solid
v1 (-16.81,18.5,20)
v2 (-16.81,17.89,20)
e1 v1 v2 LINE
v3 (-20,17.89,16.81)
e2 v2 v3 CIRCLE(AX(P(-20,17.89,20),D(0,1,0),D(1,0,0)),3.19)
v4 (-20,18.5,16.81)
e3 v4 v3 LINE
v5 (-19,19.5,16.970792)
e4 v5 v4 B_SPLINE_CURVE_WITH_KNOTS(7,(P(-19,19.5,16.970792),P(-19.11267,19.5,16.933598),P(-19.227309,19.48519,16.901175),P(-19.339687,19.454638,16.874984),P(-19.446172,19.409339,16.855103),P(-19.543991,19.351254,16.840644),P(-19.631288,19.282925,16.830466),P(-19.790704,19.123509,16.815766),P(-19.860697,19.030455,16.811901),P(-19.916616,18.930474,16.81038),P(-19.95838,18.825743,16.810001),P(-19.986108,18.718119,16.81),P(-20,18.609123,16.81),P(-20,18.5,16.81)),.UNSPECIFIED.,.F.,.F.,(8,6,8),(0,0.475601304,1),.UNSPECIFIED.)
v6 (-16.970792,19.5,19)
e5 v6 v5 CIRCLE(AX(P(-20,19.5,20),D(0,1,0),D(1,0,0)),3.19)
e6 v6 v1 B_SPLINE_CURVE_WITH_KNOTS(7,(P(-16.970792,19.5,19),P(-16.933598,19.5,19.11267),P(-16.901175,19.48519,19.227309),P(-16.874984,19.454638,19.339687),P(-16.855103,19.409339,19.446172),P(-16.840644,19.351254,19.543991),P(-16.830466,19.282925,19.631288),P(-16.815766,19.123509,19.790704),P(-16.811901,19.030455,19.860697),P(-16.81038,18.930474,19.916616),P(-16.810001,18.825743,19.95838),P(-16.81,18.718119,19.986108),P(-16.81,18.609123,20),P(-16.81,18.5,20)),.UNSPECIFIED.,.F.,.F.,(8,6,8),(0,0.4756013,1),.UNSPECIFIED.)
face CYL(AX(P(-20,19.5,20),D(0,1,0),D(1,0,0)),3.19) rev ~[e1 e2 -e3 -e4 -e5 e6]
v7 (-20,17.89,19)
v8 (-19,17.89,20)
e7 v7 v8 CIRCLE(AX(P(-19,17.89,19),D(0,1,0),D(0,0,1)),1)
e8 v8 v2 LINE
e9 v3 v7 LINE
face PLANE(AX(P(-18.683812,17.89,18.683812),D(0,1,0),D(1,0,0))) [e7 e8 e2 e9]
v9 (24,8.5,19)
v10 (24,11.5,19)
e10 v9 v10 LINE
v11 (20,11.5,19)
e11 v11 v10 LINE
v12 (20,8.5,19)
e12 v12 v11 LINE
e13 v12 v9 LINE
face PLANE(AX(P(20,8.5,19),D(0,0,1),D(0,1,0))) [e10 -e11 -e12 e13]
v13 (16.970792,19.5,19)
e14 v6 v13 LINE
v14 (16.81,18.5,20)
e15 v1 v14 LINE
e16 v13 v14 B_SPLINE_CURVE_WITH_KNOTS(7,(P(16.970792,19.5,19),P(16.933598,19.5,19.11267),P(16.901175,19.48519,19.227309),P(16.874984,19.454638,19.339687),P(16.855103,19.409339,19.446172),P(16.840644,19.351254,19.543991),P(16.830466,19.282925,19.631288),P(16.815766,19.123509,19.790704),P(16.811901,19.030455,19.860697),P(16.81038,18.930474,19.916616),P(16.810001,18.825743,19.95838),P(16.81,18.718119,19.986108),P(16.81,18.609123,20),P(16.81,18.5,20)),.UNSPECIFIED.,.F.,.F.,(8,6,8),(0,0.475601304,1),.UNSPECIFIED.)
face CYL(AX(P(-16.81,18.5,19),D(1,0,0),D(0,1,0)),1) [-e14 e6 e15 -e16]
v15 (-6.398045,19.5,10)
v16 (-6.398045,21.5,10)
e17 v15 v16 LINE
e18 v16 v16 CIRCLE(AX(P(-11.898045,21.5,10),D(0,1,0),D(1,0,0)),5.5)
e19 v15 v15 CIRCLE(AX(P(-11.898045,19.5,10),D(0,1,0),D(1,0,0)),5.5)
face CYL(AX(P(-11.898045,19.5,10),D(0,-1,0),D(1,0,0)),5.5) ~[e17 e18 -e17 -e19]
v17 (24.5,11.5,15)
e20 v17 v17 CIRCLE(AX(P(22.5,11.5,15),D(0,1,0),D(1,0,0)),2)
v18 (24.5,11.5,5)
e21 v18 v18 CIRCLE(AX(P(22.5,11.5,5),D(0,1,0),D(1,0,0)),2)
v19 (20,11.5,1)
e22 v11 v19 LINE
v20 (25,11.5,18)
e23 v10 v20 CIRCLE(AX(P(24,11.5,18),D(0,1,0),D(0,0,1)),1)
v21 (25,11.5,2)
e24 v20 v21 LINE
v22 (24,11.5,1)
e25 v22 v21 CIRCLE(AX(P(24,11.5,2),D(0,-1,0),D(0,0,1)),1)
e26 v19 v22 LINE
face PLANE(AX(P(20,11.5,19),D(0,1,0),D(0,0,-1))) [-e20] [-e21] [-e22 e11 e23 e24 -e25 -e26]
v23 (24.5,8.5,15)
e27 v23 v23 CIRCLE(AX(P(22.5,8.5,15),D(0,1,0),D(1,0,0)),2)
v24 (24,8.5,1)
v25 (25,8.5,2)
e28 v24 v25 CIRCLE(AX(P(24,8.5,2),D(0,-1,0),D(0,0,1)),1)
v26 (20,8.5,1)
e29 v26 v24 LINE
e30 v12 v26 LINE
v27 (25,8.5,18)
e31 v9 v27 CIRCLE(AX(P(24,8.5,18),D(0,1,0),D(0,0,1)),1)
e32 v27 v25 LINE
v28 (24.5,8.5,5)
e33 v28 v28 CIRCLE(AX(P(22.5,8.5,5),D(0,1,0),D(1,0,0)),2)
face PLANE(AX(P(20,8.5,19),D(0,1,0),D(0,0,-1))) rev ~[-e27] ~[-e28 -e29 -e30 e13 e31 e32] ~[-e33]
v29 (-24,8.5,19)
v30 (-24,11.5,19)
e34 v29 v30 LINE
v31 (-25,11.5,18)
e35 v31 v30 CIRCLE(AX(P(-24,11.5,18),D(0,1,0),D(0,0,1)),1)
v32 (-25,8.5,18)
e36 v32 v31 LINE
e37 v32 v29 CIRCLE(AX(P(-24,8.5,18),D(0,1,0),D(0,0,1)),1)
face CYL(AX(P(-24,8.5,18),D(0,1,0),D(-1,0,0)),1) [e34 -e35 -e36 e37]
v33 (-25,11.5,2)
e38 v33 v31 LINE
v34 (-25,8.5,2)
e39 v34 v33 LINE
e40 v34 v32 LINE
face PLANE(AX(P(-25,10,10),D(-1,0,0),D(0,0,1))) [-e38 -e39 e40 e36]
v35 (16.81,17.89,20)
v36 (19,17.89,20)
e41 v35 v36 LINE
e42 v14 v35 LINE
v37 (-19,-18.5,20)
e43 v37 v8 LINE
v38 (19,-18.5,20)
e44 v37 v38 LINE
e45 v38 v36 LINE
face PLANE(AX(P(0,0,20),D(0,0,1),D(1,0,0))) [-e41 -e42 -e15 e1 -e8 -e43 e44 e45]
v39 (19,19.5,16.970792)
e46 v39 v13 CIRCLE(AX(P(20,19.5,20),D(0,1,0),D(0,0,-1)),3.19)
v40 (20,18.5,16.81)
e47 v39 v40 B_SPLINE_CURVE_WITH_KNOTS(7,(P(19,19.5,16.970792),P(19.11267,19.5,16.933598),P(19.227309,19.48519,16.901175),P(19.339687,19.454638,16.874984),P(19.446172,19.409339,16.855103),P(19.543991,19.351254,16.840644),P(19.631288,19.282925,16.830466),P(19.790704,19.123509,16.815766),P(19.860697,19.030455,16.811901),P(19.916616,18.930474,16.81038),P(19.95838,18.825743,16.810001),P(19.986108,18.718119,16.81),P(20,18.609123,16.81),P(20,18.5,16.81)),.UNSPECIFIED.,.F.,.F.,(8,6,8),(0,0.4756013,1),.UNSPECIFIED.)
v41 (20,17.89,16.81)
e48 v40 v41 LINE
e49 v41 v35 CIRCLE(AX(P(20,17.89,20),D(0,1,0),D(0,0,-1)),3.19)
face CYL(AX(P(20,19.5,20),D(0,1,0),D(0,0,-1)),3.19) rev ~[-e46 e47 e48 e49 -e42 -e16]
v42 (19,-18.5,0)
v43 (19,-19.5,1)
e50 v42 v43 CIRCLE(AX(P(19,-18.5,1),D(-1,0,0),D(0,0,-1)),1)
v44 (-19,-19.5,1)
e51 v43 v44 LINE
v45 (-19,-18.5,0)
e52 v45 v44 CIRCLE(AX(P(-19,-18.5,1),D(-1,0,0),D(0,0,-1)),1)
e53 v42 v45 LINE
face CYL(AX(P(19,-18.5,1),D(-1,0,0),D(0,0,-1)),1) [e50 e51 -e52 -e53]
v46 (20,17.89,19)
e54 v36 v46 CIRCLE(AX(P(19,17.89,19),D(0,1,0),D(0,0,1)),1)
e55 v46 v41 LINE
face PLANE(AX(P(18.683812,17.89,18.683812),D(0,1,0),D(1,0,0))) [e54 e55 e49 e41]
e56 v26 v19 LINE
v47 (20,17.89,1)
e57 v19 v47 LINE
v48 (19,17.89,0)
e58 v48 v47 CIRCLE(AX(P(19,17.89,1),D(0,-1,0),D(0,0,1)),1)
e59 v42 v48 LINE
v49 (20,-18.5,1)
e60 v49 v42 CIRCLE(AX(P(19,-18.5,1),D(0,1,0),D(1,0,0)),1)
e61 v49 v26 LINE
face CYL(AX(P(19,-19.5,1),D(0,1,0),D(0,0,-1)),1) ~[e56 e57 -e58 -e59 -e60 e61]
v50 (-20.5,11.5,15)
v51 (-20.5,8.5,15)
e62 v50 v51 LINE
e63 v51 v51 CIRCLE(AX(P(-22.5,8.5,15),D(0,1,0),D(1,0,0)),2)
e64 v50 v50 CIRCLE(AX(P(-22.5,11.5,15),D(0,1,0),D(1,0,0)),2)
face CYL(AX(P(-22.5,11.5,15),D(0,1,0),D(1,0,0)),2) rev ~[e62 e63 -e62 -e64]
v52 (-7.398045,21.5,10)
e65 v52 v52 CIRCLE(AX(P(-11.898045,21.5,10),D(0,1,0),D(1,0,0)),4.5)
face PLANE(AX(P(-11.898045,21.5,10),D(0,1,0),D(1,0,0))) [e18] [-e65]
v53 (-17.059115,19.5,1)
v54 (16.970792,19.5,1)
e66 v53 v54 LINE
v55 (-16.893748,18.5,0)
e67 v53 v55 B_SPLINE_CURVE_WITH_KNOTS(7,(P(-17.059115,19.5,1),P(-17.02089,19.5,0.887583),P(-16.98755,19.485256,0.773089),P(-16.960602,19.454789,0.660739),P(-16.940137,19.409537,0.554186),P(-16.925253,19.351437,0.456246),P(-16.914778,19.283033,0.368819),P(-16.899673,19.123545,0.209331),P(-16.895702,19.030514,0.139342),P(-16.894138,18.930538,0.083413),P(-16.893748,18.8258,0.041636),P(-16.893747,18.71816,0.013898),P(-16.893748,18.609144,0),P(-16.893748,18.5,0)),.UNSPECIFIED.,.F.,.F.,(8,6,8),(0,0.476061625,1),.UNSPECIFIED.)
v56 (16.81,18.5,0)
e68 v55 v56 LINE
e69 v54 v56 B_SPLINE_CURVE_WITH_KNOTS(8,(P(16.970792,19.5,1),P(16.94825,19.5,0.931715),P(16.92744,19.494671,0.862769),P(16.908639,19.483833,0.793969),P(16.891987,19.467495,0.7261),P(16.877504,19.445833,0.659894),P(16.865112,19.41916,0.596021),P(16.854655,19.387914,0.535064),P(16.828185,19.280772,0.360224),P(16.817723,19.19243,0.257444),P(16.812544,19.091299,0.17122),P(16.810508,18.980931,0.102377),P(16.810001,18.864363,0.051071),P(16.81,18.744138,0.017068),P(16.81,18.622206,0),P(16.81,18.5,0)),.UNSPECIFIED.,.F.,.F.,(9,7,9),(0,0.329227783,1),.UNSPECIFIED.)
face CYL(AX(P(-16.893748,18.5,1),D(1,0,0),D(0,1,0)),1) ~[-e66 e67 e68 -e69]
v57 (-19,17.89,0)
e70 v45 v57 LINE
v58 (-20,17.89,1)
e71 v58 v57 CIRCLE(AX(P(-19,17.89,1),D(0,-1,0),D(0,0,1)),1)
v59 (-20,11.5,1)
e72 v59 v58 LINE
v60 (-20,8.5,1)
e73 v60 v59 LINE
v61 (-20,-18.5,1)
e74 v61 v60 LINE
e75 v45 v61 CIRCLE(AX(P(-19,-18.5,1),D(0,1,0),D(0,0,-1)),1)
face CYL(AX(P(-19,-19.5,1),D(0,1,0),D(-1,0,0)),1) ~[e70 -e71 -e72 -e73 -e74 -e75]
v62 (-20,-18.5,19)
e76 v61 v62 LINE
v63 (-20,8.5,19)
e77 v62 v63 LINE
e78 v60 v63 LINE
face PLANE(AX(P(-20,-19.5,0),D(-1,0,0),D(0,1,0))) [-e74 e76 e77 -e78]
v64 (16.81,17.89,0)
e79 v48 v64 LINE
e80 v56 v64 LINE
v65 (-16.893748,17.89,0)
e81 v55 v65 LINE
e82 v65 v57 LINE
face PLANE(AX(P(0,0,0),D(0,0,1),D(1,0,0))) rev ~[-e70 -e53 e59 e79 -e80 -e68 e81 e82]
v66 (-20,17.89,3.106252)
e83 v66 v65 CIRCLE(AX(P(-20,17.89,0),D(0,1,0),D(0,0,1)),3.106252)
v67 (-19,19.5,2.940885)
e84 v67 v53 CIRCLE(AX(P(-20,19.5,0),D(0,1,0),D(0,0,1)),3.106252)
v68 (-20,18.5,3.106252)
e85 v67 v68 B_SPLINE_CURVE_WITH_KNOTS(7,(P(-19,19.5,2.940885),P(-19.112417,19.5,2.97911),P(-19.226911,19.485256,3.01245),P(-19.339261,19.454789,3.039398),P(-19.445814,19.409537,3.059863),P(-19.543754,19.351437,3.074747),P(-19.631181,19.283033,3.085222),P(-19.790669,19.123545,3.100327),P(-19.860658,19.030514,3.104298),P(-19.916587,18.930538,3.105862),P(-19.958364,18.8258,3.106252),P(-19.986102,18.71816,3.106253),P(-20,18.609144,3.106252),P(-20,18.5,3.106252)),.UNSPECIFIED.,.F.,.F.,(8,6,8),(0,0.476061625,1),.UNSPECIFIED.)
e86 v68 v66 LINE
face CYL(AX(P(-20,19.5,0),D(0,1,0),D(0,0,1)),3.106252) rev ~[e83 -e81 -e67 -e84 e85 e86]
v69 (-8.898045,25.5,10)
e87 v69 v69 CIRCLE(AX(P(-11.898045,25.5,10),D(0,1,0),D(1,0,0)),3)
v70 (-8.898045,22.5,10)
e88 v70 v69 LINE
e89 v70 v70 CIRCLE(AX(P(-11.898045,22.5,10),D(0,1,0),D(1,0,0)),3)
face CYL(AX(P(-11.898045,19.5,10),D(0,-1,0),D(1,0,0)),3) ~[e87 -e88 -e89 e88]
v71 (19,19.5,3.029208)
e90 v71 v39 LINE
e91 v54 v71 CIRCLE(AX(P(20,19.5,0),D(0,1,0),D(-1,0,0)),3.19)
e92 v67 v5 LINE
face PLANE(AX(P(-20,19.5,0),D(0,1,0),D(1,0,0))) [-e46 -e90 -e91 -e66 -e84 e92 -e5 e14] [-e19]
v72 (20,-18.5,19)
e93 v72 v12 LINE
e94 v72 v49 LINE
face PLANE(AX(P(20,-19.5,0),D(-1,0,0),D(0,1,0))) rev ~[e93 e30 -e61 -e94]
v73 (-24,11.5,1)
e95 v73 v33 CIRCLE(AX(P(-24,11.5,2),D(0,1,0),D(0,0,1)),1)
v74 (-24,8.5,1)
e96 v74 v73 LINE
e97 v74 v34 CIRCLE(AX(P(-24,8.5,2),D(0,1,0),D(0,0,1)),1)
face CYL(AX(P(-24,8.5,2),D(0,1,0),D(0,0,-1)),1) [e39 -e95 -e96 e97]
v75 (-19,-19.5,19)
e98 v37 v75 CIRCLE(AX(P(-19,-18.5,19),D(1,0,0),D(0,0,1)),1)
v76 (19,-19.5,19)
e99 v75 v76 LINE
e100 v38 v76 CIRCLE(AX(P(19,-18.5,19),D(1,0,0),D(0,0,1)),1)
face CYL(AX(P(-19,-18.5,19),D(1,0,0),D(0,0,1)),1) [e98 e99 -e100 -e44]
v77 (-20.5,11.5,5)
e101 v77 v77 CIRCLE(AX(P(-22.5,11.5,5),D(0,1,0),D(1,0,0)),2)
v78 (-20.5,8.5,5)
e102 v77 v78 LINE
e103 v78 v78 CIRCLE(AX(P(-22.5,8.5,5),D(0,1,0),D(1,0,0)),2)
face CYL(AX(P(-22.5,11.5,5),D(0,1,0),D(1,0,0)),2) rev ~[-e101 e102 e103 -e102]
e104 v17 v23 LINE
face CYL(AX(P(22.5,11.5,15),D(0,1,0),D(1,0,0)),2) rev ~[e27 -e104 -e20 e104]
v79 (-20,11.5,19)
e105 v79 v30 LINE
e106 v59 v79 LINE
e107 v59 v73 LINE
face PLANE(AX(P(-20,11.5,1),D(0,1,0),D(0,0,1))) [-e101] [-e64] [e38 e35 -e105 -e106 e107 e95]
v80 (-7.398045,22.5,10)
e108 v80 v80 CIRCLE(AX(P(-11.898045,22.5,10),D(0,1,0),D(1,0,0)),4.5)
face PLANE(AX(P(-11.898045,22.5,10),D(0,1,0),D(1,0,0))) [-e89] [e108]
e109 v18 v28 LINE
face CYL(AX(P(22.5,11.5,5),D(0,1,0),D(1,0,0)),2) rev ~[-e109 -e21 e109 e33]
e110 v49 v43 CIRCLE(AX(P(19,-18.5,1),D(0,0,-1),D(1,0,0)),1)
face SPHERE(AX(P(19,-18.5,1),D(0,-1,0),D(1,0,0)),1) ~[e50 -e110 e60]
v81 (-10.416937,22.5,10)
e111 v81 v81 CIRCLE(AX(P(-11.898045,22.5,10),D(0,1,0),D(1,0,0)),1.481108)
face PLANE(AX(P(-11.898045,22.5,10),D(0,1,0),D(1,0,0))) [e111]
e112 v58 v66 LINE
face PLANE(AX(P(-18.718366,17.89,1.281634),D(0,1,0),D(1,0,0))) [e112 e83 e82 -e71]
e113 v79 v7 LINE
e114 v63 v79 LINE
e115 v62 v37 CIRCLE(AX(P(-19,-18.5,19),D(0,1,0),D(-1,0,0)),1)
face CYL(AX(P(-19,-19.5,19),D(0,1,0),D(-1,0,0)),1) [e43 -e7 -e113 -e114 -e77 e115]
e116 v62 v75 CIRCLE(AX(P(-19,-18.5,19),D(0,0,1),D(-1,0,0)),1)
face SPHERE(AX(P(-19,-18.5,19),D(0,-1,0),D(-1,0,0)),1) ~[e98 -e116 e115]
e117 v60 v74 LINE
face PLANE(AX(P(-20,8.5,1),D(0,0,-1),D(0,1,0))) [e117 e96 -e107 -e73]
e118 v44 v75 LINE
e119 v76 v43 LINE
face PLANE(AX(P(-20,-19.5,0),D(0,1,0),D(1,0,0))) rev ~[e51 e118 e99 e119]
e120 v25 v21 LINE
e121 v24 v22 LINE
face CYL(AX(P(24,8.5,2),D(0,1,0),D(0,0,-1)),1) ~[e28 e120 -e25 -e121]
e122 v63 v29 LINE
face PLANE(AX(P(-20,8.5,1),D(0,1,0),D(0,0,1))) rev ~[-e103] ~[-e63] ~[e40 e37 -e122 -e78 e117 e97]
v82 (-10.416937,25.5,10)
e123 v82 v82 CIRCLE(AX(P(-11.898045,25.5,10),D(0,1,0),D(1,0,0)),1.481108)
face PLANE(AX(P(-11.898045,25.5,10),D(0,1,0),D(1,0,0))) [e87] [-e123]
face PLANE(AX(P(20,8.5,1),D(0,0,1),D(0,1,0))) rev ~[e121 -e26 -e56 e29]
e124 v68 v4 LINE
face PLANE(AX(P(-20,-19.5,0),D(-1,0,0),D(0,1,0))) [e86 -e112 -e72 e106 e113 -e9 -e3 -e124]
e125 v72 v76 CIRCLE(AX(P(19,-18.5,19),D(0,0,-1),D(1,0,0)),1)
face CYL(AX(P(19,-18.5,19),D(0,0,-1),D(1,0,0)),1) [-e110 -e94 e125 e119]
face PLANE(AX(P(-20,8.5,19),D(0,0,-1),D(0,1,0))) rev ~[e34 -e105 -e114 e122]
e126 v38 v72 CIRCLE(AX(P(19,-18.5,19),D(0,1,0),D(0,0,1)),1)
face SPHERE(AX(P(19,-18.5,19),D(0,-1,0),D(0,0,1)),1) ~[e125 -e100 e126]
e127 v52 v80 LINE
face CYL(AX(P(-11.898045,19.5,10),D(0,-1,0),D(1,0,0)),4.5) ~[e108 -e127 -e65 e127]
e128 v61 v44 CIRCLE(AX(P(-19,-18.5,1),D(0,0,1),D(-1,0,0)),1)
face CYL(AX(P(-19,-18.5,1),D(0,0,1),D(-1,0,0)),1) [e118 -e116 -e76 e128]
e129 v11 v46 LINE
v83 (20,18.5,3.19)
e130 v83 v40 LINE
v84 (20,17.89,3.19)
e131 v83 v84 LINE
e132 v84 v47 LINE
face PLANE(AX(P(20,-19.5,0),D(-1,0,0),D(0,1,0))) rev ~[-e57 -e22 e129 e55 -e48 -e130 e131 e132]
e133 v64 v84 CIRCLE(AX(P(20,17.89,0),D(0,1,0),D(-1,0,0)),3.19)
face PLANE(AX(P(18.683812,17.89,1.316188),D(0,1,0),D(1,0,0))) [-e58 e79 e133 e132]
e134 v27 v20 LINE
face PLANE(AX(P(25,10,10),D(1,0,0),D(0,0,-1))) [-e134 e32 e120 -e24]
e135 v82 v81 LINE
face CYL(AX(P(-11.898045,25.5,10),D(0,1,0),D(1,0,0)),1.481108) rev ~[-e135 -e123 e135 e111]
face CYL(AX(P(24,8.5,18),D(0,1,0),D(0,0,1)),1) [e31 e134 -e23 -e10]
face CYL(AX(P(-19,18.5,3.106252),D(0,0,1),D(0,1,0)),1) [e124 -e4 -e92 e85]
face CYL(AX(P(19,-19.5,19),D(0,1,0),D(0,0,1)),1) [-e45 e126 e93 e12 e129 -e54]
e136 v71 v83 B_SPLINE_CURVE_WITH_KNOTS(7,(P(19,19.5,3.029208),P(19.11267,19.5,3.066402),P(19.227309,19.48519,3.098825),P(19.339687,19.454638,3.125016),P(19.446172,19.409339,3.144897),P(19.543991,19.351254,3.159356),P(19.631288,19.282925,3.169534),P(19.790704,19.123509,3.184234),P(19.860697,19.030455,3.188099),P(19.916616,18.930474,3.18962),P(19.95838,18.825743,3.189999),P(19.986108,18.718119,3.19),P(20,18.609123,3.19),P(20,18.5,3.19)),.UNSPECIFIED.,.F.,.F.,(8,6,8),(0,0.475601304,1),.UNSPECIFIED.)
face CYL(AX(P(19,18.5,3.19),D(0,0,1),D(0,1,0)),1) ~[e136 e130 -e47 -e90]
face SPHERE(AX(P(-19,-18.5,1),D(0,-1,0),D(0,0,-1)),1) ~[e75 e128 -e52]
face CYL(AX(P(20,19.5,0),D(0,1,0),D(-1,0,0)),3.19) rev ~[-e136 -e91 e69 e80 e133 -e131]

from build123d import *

# Parameters (mm, degrees)
SKETCH_1_W           = 40
SKETCH_1_H           = 39
EXTRUDE_1_DEPTH      = 20
SKETCH_2_R           = 3
EXTRUDE_2_DEPTH      = 6
SKETCH_2_5_R         = 5.5
SKETCH_2_5_R_2       = 4.5
EXTRUDE_5_DEPTH      = 2
SKETCH_2_6_R         = 4.5
SKETCH_2_6_R_2       = 3
EXTRUDE_6_DEPTH      = 3
CUT_EXTRUDE_5_DEPTH  = 1.61
CUT_EXTRUDE_6_DEPTH  = 1.61
FILLET_2_R           = 1
FILLET_3_R           = 1
FILLET_5_R           = 1
FILLET_6_R           = 1
FILLET_9_R           = 1
SKETCH_6_R           = 1.481108103
CUT_EXTRUDE_11_DEPTH = 3
SKETCH_7_W           = 18
SKETCH_7_H           = 3
EXTRUDE_10_DEPTH     = 5
SKETCH_14_R          = 2
CUT_EXTRUDE_12_DEPTH = 45.564559955
SKETCH_12_W          = 18
SKETCH_12_H          = 3
EXTRUDE_11_DEPTH     = 5
SKETCH_15_R          = 2
CUT_EXTRUDE_13_DEPTH = 45.564559955
FILLET_10_R          = 1


with BuildPart() as part:
    # 草图1 → 凸台-拉伸1 (new body)
    with BuildSketch(Plane.XY):
        Rectangle(SKETCH_1_W, SKETCH_1_H)
    extrude(amount=EXTRUDE_1_DEPTH)

    # 草图2 → 凸台-拉伸2 (add)
    with BuildSketch(Plane(origin=(0, 19.5, 0), x_dir=(1, 0, 0), z_dir=(0, 1, 0))):
        with Locations((-11.898044795, -10)):
            Circle(SKETCH_2_R)
    extrude(amount=EXTRUDE_2_DEPTH)

    # 草图2<5> → 凸台-拉伸5 (add)
    with BuildSketch(Plane(origin=(0, 19.5, 0), x_dir=(1, 0, 0), z_dir=(0, 1, 0))):
        with Locations((-11.898044795, -10)):
            Circle(SKETCH_2_5_R)
        with Locations((-11.898044795, -10)):
            Circle(SKETCH_2_5_R_2, mode=Mode.SUBTRACT)
    extrude(amount=EXTRUDE_5_DEPTH)

    # 草图2<6> → 凸台-拉伸6 (add)
    with BuildSketch(Plane(origin=(0, 19.5, 0), x_dir=(1, 0, 0), z_dir=(0, 1, 0))):
        with Locations((-11.898044795, -10)):
            Circle(SKETCH_2_6_R)
        with Locations((-11.898044795, -10)):
            Circle(SKETCH_2_6_R_2, mode=Mode.SUBTRACT)
    extrude(amount=EXTRUDE_6_DEPTH)

    # 草图2<8> → 切除-拉伸5 (cut)
    with BuildSketch(Plane(origin=(0, 19.5, 0), x_dir=(1, 0, 0), z_dir=(0, 1, 0))):
        with BuildLine():
            Line((-16.893747566, 0), (-20, 0))
            Line((-20, 0), (-20, -3.106252434))
            ThreePointArc((-20, -3.106252434), (-17.80354784, -2.19645216), (-16.893747566, 0))
        make_face()
    extrude(amount=-CUT_EXTRUDE_5_DEPTH, mode=Mode.SUBTRACT)

    # 草图2<12> → 切除-拉伸6 (cut)
    with BuildSketch(Plane(origin=(0, 19.5, 0), x_dir=(1, 0, 0), z_dir=(0, 1, 0))):
        with BuildLine():
            ThreePointArc((16.81, 0), (17.744329368, -2.255670632), (20, -3.19))
            Line((20, -3.19), (20, 0))
            Line((20, 0), (16.81, 0))
        make_face()
        with BuildLine():
            Line((-20, -16.81), (-20, -20))
            Line((-20, -20), (-16.81, -20))
            ThreePointArc((-16.81, -20), (-17.744329368, -17.744329368), (-20, -16.81))
        make_face()
        with BuildLine():
            Line((16.81, -20), (20, -20))
            Line((20, -20), (20, -16.81))
            ThreePointArc((20, -16.81), (17.744329368, -17.744329368), (16.81, -20))
        make_face()
    extrude(amount=-CUT_EXTRUDE_6_DEPTH, mode=Mode.SUBTRACT)

    # 圆角2
    fillet_2_edges = [part.edges().sort_by_distance(p)[0] for p in [
        (-0.041873783, 19.5, 0),
    ]]
    fillet(fillet_2_edges, radius=FILLET_2_R)

    # 圆角3
    fillet_3_edges = [part.edges().sort_by_distance(p)[0] for p in [
        (20, 19.5, 10),
        (0, 19.5, 20),
        (-20, 19.5, 9.958126217),
    ]]
    fillet(fillet_3_edges, radius=FILLET_3_R)

    # 圆角5
    fillet_5_edges = [part.edges().sort_by_distance(p)[0] for p in [
        (-20, -0.805, 0),
    ]]
    fillet(fillet_5_edges, radius=FILLET_5_R)

    # 圆角6
    fillet_6_edges = [part.edges().sort_by_distance(p)[0] for p in [
        (20, -0.805, 0),
        (20, -0.805, 20),
        (-20, -0.805, 20),
    ]]
    fillet(fillet_6_edges, radius=FILLET_6_R)

    # 圆角9
    fillet_9_edges = [part.edges().sort_by_distance(p)[0] for p in [
        (-20, -19.5, 10),
        (0, -19.5, 0),
        (20, -19.5, 10),
        (0, -19.5, 20),
        (-19.707106781, -19.5, 19.707106781),
        (-19.707106781, -19.5, 0.292893219),
        (19.707106781, -19.5, 0.292893219),
        (19.707106781, -19.5, 19.707106781),
    ]]
    fillet(fillet_9_edges, radius=FILLET_9_R)

    # 草图6 → 切除-拉伸11 (cut)
    with BuildSketch(Plane(origin=(0, 25.5, 0), x_dir=(1, 0, 0), z_dir=(0, 1, 0))):
        with Locations((-11.898044795, -10)):
            Circle(SKETCH_6_R)
    extrude(amount=-CUT_EXTRUDE_11_DEPTH, mode=Mode.SUBTRACT)

    # 草图7 → 凸台-拉伸10 (add)
    with BuildSketch(Plane(origin=(20, 0, 0), x_dir=(0, 0, -1), z_dir=(1, 0, 0))):
        with Locations((-10, 10)):
            Rectangle(SKETCH_7_W, SKETCH_7_H)
    extrude(amount=EXTRUDE_10_DEPTH)

    # 草图14 → 切除-拉伸12 (cut, through all)
    with BuildSketch(Plane(origin=(0, 11.5, 0), x_dir=(1, 0, 0), z_dir=(0, 1, 0))):
        with Locations((22.5, -5)):
            Circle(SKETCH_14_R)
        with Locations((22.5, -15)):
            Circle(SKETCH_14_R)
    extrude(amount=-CUT_EXTRUDE_12_DEPTH, mode=Mode.SUBTRACT)

    # 草图12 → 凸台-拉伸11 (add)
    with BuildSketch(Plane.ZY.offset(20)):
        with Locations((10, 10)):
            Rectangle(SKETCH_12_W, SKETCH_12_H)
    extrude(amount=EXTRUDE_11_DEPTH)

    # 草图15 → 切除-拉伸13 (cut, through all)
    with BuildSketch(Plane(origin=(0, 11.5, 0), x_dir=(1, 0, 0), z_dir=(0, 1, 0))):
        with Locations((-22.5, -5)):
            Circle(SKETCH_15_R)
        with Locations((-22.5, -15)):
            Circle(SKETCH_15_R)
    extrude(amount=-CUT_EXTRUDE_13_DEPTH, mode=Mode.SUBTRACT)

    # 圆角10
    fillet_10_edges = [part.edges().sort_by_distance(p)[0] for p in [
        (-25, 10, 1),
        (-25, 10, 19),
        (25, 10, 19),
        (25, 10, 1),
    ]]
    fillet(fillet_10_edges, radius=FILLET_10_R)


solid = part.part
